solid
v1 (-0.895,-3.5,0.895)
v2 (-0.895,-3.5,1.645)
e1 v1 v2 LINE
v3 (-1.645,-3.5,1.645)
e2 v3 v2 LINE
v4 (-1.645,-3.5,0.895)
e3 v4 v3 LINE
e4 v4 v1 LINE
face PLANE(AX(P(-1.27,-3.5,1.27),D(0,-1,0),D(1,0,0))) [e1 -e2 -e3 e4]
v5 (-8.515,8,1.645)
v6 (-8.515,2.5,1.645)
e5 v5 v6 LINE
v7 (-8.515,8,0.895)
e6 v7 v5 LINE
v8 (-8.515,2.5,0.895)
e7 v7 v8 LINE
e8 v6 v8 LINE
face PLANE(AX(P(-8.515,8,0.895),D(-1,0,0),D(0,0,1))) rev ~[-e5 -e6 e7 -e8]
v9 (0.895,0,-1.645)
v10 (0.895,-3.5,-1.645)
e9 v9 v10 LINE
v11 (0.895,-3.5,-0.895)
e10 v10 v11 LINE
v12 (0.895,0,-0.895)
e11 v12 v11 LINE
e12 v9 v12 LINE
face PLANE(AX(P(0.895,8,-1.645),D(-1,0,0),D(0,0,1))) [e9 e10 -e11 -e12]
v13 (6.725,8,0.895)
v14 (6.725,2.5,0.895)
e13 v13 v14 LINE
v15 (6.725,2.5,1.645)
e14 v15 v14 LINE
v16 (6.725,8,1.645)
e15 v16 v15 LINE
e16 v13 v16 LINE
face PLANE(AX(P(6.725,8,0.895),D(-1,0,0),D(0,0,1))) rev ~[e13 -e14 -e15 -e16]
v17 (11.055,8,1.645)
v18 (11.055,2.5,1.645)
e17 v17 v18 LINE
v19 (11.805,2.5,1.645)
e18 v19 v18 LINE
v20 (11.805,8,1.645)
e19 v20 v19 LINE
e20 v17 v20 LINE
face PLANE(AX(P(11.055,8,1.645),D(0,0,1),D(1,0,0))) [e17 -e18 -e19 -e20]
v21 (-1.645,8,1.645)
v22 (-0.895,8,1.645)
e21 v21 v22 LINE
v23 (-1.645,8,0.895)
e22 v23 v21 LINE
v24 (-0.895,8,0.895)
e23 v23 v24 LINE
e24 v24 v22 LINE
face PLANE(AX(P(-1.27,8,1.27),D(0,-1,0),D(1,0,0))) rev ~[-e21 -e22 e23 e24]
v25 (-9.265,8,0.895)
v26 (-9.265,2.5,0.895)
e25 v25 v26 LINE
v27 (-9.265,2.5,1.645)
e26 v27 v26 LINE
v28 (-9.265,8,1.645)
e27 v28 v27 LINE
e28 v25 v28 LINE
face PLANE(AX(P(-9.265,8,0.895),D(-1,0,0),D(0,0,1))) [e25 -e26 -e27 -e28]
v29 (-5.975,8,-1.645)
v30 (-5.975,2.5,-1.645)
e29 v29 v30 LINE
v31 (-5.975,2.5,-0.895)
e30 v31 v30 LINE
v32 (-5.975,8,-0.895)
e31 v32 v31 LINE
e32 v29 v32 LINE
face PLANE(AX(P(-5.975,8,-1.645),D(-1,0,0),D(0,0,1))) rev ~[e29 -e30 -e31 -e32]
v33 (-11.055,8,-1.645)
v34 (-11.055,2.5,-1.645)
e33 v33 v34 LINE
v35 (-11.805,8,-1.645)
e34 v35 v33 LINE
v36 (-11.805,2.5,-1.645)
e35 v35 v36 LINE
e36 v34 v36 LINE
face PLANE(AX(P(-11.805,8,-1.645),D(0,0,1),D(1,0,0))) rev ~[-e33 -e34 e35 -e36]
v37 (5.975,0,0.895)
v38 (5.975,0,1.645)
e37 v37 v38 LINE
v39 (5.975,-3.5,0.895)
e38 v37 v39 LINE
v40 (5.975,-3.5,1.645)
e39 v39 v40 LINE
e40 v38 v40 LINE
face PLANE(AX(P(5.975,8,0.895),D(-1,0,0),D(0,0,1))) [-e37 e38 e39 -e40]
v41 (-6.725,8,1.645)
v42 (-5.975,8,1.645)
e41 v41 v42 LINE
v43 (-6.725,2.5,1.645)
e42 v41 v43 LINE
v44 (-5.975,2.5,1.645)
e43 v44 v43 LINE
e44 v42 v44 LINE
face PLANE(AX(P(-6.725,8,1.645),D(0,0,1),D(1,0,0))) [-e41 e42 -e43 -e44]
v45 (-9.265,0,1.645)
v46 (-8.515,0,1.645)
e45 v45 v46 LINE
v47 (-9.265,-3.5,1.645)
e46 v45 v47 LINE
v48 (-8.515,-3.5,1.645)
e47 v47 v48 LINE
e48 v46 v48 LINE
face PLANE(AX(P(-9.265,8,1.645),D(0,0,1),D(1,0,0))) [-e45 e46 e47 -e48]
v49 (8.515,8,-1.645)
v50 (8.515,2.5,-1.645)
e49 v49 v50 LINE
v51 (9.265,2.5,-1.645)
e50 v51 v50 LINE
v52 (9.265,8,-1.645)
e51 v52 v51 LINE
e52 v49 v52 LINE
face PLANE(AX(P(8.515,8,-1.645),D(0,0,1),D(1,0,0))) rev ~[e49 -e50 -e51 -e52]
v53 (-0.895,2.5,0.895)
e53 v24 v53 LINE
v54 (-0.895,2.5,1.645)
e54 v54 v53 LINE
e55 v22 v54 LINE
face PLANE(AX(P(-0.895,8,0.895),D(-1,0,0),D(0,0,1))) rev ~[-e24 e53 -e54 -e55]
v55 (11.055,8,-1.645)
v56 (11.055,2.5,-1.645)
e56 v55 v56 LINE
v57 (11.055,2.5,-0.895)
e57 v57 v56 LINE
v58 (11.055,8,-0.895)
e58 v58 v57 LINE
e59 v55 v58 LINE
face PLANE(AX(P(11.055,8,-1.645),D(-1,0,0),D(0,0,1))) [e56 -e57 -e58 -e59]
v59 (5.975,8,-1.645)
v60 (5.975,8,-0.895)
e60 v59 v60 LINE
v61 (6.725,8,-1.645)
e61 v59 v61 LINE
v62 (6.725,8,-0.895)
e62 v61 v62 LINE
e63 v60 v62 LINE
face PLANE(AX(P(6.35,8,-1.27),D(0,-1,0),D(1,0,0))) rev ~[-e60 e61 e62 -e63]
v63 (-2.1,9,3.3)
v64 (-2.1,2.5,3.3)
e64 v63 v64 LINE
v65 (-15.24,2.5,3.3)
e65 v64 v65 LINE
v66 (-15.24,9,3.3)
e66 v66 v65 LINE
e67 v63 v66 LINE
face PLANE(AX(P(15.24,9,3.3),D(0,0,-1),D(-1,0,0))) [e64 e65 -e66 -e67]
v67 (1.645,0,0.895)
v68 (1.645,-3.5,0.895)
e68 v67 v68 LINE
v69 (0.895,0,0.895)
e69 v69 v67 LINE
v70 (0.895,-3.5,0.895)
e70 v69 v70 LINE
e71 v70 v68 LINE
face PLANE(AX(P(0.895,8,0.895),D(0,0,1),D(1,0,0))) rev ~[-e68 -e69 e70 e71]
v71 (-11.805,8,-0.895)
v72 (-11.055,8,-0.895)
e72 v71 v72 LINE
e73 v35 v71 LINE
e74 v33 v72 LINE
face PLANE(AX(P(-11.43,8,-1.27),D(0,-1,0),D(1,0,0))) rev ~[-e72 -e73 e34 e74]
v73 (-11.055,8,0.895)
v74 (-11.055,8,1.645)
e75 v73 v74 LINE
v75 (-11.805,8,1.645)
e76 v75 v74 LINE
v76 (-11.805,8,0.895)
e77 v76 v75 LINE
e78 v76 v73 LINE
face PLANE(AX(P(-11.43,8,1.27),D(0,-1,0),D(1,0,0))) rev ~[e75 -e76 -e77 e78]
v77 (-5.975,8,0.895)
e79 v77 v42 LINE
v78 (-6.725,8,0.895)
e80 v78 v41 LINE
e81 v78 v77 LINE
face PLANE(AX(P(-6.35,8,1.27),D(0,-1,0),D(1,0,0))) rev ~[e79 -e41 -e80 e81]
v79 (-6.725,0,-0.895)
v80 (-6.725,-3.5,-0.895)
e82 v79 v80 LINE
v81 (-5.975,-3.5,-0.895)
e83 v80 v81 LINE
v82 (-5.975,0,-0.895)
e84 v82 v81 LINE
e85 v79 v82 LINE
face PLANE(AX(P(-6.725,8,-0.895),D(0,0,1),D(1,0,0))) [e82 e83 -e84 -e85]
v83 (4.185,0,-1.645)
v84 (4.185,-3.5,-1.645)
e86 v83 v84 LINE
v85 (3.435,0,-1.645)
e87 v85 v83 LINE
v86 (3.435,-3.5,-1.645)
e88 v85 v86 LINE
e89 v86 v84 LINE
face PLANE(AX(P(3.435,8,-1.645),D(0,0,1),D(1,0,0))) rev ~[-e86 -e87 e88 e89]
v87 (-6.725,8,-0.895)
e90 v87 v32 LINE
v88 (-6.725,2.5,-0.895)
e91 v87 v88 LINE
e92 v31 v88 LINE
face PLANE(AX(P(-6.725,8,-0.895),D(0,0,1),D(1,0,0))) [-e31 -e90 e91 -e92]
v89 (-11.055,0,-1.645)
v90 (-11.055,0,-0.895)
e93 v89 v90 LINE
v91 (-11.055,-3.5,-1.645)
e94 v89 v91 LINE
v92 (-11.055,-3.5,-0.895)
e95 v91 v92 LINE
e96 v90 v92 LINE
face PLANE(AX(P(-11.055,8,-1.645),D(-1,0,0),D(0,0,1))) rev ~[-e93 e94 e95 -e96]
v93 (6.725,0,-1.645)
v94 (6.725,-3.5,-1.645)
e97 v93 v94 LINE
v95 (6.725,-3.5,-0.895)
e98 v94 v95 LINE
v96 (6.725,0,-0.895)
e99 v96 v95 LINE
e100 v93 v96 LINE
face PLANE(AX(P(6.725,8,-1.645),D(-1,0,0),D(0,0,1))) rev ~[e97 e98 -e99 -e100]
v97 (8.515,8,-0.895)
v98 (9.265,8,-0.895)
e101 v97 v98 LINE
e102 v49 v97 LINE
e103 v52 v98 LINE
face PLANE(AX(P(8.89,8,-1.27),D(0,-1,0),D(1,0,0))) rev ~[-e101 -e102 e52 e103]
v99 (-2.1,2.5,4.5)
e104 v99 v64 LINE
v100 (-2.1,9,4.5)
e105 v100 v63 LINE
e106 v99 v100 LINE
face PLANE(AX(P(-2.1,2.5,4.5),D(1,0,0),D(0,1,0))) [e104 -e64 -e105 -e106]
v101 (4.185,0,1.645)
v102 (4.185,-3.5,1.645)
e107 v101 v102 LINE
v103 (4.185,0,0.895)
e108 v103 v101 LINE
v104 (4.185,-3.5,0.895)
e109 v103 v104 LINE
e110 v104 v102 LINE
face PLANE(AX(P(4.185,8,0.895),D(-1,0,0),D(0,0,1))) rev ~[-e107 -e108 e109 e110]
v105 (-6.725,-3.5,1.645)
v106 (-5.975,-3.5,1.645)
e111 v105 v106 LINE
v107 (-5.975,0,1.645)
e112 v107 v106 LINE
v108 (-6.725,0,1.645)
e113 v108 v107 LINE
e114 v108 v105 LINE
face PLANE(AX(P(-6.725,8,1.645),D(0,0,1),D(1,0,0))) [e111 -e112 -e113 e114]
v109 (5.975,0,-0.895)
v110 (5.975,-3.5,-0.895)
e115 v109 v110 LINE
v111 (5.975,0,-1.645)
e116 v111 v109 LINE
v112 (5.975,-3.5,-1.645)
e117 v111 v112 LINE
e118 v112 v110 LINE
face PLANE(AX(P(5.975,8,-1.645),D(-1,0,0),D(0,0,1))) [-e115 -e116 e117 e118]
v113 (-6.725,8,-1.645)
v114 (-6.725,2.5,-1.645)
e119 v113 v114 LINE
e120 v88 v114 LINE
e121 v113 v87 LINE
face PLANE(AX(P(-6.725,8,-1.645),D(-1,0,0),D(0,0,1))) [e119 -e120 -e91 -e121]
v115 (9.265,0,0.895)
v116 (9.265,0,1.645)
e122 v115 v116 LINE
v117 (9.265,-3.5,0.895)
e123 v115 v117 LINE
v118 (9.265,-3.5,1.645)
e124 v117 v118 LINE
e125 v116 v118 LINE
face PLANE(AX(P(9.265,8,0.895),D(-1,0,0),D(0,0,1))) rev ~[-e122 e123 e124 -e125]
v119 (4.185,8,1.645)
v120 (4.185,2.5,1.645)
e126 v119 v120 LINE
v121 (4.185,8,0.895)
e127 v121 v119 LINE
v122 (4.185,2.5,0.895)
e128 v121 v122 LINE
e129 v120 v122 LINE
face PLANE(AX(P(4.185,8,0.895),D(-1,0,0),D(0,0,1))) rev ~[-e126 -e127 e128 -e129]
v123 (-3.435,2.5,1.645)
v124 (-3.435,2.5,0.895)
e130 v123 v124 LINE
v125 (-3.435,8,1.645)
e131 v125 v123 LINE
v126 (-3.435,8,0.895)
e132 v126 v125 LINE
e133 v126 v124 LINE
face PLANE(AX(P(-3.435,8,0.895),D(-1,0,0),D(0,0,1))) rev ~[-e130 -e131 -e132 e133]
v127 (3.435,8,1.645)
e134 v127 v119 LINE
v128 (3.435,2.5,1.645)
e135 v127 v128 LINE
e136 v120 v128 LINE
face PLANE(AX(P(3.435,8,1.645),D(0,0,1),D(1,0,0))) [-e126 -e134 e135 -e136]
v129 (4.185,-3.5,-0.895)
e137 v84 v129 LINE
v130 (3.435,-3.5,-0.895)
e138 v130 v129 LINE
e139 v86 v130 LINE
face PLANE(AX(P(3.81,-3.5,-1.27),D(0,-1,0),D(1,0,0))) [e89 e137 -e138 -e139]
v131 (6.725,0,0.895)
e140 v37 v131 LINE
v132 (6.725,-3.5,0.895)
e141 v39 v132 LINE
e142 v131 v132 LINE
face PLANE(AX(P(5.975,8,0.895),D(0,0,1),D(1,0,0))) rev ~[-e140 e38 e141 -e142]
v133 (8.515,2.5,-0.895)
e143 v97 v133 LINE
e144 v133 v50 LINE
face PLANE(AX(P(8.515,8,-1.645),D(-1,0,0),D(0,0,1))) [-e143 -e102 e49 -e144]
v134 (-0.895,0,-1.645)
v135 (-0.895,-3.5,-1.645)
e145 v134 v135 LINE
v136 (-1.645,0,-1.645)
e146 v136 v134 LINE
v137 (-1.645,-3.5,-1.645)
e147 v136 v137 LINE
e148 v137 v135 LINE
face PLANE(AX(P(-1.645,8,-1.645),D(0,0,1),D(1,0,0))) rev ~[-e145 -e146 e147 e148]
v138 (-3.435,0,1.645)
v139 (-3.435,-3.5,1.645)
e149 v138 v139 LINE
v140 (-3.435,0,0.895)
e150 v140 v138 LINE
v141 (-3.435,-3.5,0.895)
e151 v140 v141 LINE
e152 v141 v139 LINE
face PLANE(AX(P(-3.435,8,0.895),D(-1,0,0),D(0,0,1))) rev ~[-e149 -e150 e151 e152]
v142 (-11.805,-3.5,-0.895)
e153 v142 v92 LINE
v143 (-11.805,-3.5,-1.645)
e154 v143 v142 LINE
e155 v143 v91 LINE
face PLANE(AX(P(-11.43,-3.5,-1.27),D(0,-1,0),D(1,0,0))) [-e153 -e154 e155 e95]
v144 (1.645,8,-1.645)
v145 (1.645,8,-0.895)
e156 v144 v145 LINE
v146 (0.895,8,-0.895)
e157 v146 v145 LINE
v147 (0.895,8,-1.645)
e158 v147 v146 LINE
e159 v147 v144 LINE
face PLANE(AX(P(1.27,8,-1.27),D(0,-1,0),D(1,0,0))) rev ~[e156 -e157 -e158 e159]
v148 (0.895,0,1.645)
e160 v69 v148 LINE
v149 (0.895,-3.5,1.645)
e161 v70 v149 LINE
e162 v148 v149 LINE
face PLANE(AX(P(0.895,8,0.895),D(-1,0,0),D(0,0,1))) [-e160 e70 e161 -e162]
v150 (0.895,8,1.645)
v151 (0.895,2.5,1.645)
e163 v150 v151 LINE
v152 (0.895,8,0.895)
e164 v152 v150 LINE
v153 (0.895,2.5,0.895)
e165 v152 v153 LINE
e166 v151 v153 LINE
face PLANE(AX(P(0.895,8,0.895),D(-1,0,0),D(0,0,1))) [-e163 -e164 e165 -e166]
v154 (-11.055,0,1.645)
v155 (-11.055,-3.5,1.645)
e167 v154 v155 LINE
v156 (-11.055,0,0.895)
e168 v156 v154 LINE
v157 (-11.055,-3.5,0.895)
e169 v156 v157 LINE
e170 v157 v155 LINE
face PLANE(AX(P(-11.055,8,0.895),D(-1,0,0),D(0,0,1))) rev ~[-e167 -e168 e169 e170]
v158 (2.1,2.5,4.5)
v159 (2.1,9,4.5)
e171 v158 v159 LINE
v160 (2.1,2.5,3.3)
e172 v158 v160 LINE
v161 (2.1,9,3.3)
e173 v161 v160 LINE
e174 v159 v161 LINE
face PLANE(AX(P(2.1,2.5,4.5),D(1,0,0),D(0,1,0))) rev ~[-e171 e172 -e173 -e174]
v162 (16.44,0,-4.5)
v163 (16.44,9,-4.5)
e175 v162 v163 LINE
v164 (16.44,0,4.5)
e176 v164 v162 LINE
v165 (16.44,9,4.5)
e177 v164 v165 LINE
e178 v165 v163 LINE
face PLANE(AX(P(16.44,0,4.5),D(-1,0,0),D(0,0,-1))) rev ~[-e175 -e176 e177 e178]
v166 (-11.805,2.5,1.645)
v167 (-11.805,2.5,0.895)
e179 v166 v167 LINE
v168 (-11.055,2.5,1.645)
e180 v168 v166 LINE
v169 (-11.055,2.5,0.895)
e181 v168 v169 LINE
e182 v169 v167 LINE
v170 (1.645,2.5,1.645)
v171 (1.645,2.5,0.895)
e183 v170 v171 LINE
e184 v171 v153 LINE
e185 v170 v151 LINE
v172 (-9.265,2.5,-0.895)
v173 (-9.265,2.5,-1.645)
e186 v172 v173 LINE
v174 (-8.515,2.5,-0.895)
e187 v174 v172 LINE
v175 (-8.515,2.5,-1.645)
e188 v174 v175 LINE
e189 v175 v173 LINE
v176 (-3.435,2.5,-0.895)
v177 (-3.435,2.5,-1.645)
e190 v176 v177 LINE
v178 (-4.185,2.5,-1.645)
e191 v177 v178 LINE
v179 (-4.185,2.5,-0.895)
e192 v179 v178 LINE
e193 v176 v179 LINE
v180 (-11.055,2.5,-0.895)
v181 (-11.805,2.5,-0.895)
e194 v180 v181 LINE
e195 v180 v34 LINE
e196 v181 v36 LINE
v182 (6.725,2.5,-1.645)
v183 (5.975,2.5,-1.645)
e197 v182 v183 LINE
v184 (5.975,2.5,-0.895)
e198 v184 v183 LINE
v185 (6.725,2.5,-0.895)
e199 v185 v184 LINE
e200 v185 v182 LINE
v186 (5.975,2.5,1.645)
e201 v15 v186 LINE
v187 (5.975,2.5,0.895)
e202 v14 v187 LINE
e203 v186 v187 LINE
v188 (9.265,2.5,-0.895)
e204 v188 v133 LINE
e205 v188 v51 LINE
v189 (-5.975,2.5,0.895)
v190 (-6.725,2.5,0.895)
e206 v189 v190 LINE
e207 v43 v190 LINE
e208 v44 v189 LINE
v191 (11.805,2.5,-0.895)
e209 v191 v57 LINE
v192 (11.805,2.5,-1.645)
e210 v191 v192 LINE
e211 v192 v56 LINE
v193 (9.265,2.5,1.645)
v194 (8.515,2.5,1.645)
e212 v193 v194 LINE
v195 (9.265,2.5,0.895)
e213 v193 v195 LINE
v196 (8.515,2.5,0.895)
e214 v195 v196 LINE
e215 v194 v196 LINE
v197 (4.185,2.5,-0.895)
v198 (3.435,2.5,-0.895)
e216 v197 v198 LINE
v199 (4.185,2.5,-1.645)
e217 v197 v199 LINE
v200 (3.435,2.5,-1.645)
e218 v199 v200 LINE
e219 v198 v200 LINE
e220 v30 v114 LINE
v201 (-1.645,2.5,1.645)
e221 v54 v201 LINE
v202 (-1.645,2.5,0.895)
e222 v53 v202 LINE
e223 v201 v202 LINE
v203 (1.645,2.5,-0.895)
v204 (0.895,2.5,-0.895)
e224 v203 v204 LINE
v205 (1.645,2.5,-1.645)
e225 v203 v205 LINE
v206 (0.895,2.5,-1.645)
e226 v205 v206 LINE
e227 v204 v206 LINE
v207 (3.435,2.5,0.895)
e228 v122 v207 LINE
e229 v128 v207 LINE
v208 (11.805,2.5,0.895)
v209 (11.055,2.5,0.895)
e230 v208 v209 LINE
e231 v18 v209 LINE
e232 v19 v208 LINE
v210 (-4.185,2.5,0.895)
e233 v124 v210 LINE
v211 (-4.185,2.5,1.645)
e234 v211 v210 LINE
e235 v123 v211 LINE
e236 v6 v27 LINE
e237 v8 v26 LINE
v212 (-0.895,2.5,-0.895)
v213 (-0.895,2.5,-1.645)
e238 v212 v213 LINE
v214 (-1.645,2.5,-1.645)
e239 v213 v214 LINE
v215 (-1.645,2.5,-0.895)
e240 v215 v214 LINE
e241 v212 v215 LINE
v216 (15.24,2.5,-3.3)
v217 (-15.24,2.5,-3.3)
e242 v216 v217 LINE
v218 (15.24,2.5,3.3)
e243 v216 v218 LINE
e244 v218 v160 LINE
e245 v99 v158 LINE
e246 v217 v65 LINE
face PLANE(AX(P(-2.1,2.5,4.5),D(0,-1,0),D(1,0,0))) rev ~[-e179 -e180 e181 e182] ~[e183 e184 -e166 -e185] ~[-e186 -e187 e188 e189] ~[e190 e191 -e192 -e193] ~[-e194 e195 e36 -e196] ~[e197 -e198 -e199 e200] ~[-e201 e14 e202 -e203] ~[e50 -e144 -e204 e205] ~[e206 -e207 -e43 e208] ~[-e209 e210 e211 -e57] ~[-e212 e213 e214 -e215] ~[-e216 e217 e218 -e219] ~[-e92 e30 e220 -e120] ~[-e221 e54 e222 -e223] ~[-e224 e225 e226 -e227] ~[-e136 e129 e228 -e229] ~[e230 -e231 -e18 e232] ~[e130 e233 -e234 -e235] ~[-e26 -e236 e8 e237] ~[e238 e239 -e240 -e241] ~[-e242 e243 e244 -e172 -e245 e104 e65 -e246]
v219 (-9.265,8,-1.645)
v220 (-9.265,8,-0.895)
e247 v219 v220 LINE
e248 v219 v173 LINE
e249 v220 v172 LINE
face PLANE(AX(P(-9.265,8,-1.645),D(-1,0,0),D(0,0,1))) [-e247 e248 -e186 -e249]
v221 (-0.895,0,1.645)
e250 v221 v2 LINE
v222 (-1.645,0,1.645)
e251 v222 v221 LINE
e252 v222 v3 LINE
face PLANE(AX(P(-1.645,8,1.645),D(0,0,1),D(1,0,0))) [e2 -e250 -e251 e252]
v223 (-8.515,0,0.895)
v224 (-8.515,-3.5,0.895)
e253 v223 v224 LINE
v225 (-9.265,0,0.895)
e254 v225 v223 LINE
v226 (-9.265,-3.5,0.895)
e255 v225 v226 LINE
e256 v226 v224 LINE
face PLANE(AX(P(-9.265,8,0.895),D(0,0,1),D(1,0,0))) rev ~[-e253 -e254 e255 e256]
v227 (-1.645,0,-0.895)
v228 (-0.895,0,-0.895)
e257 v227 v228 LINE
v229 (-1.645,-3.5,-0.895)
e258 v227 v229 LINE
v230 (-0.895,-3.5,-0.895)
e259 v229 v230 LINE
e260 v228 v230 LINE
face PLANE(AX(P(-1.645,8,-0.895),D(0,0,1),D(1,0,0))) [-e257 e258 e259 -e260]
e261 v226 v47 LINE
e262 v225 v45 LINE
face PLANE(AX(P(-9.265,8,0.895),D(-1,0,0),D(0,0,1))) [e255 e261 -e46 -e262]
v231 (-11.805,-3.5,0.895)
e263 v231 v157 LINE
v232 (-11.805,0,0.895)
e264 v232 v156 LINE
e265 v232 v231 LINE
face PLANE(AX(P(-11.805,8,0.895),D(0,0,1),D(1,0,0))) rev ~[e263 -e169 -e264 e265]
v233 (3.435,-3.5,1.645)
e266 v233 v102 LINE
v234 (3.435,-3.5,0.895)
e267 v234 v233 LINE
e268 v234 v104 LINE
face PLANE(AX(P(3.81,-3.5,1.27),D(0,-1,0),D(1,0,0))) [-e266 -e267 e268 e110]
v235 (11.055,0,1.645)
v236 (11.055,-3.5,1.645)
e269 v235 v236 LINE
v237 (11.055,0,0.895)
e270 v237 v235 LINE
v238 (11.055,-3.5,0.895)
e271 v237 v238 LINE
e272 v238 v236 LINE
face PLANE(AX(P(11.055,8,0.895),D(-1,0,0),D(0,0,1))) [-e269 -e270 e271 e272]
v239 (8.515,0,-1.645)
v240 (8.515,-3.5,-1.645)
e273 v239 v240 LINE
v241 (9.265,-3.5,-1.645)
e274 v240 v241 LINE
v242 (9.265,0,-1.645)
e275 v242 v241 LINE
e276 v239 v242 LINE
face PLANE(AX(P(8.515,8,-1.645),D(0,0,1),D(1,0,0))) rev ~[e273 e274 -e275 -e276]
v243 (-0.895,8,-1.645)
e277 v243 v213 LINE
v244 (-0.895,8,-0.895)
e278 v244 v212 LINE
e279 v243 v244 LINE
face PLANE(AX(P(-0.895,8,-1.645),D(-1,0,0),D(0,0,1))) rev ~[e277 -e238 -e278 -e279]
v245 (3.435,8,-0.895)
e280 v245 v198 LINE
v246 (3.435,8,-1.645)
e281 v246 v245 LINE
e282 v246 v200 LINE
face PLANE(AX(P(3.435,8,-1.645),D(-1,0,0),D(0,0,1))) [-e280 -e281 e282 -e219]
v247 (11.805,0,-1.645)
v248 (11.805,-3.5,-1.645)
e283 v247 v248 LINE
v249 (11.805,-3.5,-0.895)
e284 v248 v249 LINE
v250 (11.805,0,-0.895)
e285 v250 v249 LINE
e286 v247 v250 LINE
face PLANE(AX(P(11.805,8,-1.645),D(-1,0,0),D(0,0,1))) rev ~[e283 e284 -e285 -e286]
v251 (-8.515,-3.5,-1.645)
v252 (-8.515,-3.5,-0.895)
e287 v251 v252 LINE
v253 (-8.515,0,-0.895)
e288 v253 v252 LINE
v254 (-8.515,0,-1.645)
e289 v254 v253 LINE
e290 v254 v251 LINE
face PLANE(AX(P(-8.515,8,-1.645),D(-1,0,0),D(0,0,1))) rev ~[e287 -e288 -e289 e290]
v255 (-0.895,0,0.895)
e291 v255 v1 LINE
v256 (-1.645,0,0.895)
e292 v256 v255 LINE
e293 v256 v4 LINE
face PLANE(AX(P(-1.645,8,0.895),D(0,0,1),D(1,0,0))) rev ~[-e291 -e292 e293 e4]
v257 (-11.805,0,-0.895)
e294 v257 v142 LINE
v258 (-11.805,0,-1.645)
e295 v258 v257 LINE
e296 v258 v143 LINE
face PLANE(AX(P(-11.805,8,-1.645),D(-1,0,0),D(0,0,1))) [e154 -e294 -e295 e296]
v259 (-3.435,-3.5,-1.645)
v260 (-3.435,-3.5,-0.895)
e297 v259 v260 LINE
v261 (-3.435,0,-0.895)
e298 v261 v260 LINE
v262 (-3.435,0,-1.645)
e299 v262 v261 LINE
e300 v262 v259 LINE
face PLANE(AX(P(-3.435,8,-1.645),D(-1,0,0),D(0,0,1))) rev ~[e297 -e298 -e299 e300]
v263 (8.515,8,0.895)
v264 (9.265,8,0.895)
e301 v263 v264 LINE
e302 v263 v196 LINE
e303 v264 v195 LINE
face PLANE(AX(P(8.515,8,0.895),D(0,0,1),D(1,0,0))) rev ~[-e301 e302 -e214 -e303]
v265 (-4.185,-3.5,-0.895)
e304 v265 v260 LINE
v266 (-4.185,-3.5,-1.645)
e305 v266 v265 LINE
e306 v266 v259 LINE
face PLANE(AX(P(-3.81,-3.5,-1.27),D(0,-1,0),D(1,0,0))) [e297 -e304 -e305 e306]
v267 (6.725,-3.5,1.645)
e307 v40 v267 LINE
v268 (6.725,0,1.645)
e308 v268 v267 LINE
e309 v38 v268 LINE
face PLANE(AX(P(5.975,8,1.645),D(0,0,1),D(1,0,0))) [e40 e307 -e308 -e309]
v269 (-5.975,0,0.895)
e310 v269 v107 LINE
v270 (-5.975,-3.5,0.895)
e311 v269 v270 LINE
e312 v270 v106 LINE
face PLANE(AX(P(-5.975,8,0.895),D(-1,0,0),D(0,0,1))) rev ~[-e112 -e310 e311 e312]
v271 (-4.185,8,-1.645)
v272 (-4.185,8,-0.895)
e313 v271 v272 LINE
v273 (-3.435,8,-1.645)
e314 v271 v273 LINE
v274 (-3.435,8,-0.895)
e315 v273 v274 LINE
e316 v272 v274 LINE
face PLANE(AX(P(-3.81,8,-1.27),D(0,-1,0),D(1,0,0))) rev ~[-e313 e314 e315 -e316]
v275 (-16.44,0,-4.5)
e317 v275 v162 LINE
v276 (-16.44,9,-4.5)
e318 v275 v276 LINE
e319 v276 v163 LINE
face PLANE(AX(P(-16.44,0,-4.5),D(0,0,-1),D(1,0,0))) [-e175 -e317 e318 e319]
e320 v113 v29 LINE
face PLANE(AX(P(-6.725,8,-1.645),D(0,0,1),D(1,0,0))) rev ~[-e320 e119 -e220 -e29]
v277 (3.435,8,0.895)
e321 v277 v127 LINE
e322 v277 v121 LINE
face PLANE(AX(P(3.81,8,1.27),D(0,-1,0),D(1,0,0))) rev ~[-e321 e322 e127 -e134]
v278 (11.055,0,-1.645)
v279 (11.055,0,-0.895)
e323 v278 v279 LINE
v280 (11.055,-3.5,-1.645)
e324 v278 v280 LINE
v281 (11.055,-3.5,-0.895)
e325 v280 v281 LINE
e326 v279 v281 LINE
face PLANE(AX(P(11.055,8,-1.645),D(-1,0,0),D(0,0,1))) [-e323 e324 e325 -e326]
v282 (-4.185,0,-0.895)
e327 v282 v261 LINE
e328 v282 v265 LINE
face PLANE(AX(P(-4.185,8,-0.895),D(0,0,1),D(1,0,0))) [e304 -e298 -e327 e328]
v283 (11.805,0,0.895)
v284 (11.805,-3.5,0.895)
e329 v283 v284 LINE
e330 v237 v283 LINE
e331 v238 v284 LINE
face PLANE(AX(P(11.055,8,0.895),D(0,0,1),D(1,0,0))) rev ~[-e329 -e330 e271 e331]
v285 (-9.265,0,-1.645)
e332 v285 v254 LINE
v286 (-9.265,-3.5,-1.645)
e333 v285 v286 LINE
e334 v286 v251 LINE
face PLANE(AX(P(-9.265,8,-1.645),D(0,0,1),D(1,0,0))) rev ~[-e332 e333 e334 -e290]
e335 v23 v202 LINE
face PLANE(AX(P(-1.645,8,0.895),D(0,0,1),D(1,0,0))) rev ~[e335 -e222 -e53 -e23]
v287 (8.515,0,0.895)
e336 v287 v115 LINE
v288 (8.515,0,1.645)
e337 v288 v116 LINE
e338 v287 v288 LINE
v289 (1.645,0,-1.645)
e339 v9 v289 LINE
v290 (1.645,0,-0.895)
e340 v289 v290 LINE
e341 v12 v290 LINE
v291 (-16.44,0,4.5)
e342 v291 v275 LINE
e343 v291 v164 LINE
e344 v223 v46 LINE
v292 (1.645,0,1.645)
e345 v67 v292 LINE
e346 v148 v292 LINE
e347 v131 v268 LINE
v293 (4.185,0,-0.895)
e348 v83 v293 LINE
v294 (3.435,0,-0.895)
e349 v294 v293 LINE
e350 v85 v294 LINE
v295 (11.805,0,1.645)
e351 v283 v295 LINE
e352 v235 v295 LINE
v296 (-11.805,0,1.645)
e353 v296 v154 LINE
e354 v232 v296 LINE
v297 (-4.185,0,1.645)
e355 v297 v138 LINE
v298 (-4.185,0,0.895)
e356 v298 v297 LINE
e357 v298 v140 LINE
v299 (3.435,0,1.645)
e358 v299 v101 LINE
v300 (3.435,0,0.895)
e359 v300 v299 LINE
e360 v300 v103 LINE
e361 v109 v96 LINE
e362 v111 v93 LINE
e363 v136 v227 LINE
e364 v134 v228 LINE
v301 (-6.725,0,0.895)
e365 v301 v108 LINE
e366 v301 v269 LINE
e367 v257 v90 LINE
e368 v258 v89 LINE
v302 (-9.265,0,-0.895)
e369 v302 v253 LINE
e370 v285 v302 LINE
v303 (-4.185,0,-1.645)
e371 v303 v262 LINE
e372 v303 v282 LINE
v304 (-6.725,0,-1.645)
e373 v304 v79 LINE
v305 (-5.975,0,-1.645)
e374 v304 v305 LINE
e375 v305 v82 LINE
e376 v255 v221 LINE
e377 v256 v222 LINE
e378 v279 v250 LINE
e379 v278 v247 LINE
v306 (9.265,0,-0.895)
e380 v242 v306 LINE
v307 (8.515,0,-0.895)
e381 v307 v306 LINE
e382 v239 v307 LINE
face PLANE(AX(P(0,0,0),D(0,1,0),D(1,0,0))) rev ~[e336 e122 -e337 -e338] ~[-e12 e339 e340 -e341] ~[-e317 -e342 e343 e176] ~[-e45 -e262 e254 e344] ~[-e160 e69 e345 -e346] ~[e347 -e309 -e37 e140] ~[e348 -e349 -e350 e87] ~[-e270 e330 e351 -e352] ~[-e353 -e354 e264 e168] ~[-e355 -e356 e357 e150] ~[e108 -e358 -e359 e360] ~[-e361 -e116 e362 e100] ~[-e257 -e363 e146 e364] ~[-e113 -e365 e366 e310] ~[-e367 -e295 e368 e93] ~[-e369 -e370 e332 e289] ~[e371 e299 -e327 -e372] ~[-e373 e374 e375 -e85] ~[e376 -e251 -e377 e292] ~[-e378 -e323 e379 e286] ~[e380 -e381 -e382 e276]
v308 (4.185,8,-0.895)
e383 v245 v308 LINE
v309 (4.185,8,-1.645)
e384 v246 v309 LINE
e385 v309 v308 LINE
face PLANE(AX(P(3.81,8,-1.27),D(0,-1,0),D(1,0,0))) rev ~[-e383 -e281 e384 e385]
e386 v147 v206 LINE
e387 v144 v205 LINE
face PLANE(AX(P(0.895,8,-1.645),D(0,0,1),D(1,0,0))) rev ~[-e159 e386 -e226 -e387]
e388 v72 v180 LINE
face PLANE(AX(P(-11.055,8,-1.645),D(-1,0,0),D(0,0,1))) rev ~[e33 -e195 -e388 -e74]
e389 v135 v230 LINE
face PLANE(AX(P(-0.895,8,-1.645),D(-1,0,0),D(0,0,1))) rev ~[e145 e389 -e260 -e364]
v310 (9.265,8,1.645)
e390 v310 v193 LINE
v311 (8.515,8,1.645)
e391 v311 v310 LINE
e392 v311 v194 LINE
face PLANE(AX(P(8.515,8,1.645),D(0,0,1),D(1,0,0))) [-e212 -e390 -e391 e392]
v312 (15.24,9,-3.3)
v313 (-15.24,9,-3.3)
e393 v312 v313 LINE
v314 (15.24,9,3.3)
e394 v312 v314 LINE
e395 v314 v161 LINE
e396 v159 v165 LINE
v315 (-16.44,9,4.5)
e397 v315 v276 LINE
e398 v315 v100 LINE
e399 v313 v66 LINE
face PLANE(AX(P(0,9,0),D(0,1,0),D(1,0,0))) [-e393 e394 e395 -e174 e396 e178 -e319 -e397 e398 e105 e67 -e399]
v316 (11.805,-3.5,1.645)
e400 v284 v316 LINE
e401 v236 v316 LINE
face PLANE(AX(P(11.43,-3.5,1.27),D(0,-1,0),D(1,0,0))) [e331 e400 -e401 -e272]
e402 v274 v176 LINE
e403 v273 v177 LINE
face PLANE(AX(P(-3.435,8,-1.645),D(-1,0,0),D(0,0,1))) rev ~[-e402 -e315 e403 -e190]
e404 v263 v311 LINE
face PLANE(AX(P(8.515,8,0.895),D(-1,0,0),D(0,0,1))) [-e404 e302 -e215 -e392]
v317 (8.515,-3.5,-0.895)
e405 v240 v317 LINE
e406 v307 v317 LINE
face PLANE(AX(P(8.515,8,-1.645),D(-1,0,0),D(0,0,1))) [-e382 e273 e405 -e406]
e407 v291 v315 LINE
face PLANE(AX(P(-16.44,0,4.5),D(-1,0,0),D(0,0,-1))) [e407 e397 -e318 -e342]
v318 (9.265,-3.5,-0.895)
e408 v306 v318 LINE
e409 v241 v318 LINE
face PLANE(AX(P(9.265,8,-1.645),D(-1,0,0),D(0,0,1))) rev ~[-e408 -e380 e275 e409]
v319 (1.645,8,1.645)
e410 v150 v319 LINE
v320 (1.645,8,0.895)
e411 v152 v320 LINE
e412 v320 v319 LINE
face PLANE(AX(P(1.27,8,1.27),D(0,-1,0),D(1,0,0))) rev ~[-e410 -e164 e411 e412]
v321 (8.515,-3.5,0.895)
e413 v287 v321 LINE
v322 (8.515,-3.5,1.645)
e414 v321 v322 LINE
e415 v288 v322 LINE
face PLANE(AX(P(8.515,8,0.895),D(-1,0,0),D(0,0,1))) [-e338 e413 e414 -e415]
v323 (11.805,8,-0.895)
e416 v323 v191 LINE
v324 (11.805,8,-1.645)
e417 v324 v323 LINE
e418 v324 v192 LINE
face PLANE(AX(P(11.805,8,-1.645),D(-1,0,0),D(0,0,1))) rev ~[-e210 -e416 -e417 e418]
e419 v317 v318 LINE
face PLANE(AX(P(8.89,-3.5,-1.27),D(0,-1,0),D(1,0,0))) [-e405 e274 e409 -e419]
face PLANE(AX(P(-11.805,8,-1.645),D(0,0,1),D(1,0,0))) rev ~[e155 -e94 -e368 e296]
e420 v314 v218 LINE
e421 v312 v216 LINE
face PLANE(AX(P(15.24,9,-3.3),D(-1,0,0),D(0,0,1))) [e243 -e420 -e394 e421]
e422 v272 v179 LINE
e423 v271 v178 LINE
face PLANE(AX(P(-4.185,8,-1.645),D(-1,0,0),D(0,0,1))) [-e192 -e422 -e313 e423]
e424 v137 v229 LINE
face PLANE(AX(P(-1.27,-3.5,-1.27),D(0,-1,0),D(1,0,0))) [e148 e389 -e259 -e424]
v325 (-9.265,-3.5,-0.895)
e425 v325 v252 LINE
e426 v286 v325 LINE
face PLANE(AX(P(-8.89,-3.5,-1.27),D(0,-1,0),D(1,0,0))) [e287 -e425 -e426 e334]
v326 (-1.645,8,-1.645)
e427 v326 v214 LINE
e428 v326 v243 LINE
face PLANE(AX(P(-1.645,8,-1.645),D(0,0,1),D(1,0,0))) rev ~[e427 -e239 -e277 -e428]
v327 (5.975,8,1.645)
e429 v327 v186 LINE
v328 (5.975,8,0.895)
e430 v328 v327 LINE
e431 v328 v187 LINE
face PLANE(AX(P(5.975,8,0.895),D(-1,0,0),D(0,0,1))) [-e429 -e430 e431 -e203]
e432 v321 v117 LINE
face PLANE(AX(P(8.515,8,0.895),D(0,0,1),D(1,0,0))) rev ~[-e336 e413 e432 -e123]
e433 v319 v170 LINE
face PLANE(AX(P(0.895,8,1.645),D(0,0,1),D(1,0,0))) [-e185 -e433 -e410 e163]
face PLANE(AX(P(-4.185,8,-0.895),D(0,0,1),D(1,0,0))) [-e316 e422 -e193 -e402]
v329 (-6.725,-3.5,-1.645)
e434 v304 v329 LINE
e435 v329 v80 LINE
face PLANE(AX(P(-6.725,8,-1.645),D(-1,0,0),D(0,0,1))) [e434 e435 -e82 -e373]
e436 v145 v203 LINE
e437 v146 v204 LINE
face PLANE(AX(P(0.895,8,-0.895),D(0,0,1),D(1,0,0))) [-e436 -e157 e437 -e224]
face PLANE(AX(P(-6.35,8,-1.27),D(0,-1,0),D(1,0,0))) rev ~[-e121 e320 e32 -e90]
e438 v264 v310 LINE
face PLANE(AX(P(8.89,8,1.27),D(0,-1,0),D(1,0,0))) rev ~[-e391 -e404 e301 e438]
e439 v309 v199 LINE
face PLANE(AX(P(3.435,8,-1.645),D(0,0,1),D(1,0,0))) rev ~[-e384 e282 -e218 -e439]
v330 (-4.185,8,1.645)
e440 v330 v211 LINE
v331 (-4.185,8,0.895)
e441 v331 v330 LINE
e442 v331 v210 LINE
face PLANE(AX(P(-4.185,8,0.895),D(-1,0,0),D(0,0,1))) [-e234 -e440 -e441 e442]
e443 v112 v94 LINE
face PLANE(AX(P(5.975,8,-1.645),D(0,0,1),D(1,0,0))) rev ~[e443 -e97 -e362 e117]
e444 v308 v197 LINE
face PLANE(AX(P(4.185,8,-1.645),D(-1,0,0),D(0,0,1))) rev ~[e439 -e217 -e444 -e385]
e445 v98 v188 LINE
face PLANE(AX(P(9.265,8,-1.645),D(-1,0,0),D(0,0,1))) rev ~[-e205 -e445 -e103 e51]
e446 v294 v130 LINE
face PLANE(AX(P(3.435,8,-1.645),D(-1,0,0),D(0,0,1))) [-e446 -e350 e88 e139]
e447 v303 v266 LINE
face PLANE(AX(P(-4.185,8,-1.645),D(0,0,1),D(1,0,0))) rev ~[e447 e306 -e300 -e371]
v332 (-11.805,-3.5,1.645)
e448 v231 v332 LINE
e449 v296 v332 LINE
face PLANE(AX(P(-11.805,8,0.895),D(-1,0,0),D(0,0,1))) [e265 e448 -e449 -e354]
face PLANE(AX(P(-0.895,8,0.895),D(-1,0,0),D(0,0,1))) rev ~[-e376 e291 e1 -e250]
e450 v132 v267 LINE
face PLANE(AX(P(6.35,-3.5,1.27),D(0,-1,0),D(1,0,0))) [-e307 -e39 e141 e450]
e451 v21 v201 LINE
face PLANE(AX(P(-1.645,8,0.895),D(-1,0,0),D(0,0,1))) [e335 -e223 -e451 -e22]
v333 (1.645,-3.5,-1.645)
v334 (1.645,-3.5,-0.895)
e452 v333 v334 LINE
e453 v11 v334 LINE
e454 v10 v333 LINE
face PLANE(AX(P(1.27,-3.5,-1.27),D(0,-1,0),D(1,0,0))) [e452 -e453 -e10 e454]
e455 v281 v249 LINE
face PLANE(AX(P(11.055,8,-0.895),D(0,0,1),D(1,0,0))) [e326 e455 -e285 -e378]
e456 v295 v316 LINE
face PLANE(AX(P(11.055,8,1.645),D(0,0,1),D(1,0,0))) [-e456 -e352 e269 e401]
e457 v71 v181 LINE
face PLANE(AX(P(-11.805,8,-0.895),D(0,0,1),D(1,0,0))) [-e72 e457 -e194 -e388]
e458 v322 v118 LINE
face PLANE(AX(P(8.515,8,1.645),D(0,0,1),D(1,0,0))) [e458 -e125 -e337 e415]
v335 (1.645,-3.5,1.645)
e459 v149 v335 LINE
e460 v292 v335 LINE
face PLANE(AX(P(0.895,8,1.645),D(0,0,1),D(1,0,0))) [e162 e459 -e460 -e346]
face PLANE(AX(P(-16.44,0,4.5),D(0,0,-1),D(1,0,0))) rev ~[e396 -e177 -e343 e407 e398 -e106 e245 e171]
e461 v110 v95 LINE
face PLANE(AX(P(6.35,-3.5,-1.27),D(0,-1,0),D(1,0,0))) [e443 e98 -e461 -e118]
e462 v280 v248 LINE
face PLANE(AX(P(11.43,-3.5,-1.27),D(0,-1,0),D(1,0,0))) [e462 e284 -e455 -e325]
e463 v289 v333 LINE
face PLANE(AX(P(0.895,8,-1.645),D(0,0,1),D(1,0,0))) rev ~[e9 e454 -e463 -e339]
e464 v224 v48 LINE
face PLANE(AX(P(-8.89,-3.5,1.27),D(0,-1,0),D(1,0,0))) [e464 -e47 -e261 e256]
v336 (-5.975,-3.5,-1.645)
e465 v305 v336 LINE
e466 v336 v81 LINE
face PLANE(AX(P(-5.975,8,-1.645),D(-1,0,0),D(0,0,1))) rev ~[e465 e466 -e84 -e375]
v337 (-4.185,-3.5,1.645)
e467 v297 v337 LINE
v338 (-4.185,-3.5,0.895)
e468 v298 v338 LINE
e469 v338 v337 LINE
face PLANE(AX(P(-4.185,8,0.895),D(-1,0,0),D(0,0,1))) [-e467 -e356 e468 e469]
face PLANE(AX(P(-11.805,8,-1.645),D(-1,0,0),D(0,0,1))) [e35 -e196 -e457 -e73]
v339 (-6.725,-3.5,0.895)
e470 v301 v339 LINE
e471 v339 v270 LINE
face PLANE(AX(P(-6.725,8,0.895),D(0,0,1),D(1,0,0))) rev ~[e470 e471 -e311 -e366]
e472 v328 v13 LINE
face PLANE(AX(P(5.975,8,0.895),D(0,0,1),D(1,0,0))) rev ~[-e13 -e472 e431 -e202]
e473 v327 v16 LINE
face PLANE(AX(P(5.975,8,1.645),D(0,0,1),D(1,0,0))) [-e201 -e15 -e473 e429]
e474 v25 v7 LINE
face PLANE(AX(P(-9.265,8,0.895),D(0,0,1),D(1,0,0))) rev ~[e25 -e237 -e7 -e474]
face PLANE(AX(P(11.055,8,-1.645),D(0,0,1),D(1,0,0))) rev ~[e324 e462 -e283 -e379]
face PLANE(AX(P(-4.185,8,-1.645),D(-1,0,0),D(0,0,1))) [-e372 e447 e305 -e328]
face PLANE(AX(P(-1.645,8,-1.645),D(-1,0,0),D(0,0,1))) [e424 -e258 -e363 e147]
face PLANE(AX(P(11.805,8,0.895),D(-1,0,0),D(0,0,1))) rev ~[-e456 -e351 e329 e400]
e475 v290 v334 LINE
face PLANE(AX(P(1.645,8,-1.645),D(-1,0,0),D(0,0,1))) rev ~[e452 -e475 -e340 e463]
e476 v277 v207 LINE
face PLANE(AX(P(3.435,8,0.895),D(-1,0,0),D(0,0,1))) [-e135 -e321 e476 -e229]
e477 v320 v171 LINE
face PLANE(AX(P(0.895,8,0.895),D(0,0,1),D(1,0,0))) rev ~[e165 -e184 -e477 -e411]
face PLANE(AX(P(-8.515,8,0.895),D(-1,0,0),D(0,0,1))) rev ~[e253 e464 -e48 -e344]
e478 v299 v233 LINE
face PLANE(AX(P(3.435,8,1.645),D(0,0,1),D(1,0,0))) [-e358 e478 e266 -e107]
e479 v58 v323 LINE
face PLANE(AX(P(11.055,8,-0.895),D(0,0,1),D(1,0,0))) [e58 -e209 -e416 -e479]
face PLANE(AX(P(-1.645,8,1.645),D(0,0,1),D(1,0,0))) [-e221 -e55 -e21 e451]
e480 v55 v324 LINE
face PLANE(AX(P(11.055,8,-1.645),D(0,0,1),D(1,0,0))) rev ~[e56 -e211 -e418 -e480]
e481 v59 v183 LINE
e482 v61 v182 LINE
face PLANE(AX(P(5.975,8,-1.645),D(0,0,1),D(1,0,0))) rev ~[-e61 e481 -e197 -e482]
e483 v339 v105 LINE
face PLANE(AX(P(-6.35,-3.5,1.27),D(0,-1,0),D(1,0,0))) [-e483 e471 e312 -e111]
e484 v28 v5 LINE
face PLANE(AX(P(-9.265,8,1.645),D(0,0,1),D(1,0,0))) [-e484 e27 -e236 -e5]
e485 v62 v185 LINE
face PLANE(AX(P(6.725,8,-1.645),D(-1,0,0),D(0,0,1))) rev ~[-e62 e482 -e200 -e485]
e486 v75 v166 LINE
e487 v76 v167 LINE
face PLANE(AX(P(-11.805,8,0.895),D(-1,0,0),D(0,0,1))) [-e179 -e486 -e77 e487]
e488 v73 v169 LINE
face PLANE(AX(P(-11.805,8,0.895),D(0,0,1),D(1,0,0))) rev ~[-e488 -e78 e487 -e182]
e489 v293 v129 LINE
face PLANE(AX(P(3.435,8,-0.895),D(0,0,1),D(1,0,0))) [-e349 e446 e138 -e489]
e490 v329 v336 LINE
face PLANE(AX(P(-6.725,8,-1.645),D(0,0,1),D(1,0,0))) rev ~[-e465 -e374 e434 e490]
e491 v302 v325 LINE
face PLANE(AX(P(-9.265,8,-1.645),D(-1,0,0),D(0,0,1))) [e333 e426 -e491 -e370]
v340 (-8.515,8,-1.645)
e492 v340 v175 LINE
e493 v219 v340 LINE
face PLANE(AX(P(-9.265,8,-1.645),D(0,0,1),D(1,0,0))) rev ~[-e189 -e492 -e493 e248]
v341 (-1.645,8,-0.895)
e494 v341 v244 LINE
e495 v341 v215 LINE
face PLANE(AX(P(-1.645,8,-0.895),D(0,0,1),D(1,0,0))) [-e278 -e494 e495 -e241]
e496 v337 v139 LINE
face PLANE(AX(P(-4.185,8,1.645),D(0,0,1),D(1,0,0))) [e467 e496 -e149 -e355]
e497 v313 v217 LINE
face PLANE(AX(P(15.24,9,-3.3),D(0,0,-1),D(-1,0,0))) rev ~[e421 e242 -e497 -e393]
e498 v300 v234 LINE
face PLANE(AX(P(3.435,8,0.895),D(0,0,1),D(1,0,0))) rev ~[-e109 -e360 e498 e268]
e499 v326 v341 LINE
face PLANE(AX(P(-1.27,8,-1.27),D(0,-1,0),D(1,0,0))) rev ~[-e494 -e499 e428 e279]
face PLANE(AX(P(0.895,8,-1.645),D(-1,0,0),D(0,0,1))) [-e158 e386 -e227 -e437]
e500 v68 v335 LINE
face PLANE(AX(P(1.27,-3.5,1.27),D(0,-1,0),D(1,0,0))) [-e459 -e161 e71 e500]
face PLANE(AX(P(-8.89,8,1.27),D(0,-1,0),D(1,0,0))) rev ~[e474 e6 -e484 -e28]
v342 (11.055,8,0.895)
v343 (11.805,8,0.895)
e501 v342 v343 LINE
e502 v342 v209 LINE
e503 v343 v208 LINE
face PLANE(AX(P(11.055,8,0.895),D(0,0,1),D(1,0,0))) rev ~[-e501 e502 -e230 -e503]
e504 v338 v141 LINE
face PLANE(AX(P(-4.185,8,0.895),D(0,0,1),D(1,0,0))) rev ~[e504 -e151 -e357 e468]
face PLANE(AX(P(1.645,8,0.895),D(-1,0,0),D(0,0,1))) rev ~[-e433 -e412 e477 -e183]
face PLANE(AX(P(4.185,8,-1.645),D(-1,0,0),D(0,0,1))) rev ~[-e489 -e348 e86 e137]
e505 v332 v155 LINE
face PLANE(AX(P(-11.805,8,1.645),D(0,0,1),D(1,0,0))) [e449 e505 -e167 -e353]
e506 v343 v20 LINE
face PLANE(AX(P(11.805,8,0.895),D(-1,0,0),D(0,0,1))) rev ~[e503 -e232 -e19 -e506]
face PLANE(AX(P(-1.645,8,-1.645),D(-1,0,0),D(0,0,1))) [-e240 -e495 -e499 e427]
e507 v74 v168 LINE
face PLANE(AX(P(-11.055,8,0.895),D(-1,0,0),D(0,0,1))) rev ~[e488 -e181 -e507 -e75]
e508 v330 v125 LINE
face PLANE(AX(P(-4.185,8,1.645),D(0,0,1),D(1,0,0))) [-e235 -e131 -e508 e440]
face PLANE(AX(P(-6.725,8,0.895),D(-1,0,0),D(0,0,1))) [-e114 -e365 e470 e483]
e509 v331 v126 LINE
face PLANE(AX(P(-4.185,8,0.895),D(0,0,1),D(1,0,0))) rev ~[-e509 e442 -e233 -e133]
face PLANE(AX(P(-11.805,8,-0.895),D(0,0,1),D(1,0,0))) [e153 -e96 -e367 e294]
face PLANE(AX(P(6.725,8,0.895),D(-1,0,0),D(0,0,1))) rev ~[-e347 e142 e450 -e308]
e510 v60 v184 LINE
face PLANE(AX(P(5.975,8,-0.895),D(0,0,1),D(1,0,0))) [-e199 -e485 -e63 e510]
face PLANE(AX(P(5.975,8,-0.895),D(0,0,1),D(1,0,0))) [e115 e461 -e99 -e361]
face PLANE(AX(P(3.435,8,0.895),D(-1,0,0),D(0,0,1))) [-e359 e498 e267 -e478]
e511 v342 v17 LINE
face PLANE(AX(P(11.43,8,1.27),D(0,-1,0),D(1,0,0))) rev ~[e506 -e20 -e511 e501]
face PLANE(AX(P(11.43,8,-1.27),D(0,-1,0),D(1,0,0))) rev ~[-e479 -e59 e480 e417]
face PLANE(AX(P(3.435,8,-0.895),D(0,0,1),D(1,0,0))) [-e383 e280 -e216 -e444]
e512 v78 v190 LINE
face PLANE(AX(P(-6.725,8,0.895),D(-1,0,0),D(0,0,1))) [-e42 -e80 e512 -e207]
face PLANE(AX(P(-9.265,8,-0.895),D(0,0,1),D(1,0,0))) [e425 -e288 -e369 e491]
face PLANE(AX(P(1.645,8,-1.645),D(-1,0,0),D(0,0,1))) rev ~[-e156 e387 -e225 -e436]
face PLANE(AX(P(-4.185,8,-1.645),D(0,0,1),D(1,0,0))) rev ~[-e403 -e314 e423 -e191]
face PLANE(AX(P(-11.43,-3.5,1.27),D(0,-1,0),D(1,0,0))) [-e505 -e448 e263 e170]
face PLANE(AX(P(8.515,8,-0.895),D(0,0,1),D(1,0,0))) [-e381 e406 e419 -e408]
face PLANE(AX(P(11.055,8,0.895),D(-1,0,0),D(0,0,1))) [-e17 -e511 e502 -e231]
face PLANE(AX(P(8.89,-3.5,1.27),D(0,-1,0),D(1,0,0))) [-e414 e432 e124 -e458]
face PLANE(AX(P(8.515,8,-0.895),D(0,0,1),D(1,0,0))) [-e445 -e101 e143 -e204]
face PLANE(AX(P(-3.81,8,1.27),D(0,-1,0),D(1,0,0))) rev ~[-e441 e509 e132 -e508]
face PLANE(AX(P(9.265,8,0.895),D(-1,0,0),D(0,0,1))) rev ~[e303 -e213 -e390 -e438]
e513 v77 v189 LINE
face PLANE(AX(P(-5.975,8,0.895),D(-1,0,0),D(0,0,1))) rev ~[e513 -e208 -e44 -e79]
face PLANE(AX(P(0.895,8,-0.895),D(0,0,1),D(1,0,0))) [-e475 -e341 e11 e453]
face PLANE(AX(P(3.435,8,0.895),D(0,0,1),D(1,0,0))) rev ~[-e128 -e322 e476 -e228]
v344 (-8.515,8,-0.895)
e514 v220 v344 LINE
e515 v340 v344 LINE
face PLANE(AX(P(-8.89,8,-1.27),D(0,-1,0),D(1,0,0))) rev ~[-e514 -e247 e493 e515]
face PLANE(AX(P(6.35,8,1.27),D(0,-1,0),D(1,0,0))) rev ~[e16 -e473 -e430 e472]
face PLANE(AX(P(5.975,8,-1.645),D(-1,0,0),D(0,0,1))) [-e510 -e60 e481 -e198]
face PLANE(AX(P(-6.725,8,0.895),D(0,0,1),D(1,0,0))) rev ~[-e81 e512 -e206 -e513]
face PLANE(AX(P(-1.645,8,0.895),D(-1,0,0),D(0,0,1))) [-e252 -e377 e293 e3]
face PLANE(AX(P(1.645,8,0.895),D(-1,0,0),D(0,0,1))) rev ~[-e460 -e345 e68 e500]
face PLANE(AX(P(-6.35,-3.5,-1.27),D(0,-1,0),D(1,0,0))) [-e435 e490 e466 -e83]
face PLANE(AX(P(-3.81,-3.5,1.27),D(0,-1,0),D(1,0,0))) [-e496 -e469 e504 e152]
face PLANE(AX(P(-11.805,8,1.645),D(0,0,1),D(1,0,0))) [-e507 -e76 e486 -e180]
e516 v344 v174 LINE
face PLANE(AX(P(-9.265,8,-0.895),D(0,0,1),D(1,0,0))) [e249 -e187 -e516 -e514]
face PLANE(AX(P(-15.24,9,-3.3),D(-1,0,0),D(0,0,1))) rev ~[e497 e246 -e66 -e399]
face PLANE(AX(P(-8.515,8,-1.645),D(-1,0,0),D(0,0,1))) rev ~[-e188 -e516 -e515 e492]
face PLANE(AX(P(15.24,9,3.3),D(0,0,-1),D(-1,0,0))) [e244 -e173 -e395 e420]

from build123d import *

# Parameters (mm, degrees)
SKETCH_1_W           = 32.88
SKETCH_1_H           = 9
EXTRUDE_1_DEPTH      = 9
SKETCH_2_W           = 30.48
SKETCH_2_H           = 6.6
CUT_EXTRUDE_1_DEPTH  = 6.5
SKETCH_3_W           = 4.2
SKETCH_3_H           = 6.5
CUT_EXTRUDE_2_DEPTH  = 6.5
EXTRUDE_2_DEPTH      = 3.5
EXTRUDE_2_DEPTH_BACK = 8
SKETCH_5_W           = 0.75
SKETCH_5_H           = 0.75


with BuildPart() as part:
    # 草图1 → 拉伸1 (new body)
    with BuildSketch(Plane(origin=(0, 0, 0), x_dir=(1, 0, 0), z_dir=(0, 1, 0))):
        Rectangle(SKETCH_1_W, SKETCH_1_H)
    extrude(amount=EXTRUDE_1_DEPTH)

    # 草图2 → 切除-拉伸1 (cut)
    with BuildSketch(Plane(origin=(0, 9, 0), x_dir=(-1, 0, 0), z_dir=(0, 1, 0))):
        Rectangle(SKETCH_2_W, SKETCH_2_H)
    extrude(amount=-CUT_EXTRUDE_1_DEPTH, mode=Mode.SUBTRACT)

    # 草图3 → 切除-拉伸2 (cut)
    with BuildSketch(Plane.XY.offset(4.5)):
        with Locations((0, 5.75)):
            Rectangle(SKETCH_3_W, SKETCH_3_H)
    extrude(amount=-CUT_EXTRUDE_2_DEPTH, mode=Mode.SUBTRACT)

    # 草图5 → 拉伸2 (add, two sides: drawn at the far end of the back side and taken through both)
    with BuildSketch(Plane.XZ.offset(-EXTRUDE_2_DEPTH_BACK)):
        with Locations((-1.27, 1.27)):
            Rectangle(SKETCH_5_W, SKETCH_5_H)
        with Locations((1.27, 1.27)):
            Rectangle(SKETCH_5_W, SKETCH_5_H)
        with Locations((3.81, 1.27)):
            Rectangle(SKETCH_5_W, SKETCH_5_H)
        with Locations((6.35, 1.27)):
            Rectangle(SKETCH_5_W, SKETCH_5_H)
        with Locations((8.89, 1.27)):
            Rectangle(SKETCH_5_W, SKETCH_5_H)
        with Locations((11.43, 1.27)):
            Rectangle(SKETCH_5_W, SKETCH_5_H)
        with Locations((1.27, -1.27)):
            Rectangle(SKETCH_5_W, SKETCH_5_H)
        with Locations((3.81, -1.27)):
            Rectangle(SKETCH_5_W, SKETCH_5_H)
        with Locations((6.35, -1.27)):
            Rectangle(SKETCH_5_W, SKETCH_5_H)
        with Locations((8.89, -1.27)):
            Rectangle(SKETCH_5_W, SKETCH_5_H)
        with Locations((11.43, -1.27)):
            Rectangle(SKETCH_5_W, SKETCH_5_H)
        with Locations((-3.81, 1.27)):
            Rectangle(SKETCH_5_W, SKETCH_5_H)
        with Locations((-6.35, 1.27)):
            Rectangle(SKETCH_5_W, SKETCH_5_H)
        with Locations((-8.89, 1.27)):
            Rectangle(SKETCH_5_W, SKETCH_5_H)
        with Locations((-11.43, 1.27)):
            Rectangle(SKETCH_5_W, SKETCH_5_H)
        with Locations((-1.27, -1.27)):
            Rectangle(SKETCH_5_W, SKETCH_5_H)
        with Locations((-3.81, -1.27)):
            Rectangle(SKETCH_5_W, SKETCH_5_H)
        with Locations((-6.35, -1.27)):
            Rectangle(SKETCH_5_W, SKETCH_5_H)
        with Locations((-8.89, -1.27)):
            Rectangle(SKETCH_5_W, SKETCH_5_H)
        with Locations((-11.43, -1.27)):
            Rectangle(SKETCH_5_W, SKETCH_5_H)
    extrude(amount=EXTRUDE_2_DEPTH + EXTRUDE_2_DEPTH_BACK)


solid = part.part
